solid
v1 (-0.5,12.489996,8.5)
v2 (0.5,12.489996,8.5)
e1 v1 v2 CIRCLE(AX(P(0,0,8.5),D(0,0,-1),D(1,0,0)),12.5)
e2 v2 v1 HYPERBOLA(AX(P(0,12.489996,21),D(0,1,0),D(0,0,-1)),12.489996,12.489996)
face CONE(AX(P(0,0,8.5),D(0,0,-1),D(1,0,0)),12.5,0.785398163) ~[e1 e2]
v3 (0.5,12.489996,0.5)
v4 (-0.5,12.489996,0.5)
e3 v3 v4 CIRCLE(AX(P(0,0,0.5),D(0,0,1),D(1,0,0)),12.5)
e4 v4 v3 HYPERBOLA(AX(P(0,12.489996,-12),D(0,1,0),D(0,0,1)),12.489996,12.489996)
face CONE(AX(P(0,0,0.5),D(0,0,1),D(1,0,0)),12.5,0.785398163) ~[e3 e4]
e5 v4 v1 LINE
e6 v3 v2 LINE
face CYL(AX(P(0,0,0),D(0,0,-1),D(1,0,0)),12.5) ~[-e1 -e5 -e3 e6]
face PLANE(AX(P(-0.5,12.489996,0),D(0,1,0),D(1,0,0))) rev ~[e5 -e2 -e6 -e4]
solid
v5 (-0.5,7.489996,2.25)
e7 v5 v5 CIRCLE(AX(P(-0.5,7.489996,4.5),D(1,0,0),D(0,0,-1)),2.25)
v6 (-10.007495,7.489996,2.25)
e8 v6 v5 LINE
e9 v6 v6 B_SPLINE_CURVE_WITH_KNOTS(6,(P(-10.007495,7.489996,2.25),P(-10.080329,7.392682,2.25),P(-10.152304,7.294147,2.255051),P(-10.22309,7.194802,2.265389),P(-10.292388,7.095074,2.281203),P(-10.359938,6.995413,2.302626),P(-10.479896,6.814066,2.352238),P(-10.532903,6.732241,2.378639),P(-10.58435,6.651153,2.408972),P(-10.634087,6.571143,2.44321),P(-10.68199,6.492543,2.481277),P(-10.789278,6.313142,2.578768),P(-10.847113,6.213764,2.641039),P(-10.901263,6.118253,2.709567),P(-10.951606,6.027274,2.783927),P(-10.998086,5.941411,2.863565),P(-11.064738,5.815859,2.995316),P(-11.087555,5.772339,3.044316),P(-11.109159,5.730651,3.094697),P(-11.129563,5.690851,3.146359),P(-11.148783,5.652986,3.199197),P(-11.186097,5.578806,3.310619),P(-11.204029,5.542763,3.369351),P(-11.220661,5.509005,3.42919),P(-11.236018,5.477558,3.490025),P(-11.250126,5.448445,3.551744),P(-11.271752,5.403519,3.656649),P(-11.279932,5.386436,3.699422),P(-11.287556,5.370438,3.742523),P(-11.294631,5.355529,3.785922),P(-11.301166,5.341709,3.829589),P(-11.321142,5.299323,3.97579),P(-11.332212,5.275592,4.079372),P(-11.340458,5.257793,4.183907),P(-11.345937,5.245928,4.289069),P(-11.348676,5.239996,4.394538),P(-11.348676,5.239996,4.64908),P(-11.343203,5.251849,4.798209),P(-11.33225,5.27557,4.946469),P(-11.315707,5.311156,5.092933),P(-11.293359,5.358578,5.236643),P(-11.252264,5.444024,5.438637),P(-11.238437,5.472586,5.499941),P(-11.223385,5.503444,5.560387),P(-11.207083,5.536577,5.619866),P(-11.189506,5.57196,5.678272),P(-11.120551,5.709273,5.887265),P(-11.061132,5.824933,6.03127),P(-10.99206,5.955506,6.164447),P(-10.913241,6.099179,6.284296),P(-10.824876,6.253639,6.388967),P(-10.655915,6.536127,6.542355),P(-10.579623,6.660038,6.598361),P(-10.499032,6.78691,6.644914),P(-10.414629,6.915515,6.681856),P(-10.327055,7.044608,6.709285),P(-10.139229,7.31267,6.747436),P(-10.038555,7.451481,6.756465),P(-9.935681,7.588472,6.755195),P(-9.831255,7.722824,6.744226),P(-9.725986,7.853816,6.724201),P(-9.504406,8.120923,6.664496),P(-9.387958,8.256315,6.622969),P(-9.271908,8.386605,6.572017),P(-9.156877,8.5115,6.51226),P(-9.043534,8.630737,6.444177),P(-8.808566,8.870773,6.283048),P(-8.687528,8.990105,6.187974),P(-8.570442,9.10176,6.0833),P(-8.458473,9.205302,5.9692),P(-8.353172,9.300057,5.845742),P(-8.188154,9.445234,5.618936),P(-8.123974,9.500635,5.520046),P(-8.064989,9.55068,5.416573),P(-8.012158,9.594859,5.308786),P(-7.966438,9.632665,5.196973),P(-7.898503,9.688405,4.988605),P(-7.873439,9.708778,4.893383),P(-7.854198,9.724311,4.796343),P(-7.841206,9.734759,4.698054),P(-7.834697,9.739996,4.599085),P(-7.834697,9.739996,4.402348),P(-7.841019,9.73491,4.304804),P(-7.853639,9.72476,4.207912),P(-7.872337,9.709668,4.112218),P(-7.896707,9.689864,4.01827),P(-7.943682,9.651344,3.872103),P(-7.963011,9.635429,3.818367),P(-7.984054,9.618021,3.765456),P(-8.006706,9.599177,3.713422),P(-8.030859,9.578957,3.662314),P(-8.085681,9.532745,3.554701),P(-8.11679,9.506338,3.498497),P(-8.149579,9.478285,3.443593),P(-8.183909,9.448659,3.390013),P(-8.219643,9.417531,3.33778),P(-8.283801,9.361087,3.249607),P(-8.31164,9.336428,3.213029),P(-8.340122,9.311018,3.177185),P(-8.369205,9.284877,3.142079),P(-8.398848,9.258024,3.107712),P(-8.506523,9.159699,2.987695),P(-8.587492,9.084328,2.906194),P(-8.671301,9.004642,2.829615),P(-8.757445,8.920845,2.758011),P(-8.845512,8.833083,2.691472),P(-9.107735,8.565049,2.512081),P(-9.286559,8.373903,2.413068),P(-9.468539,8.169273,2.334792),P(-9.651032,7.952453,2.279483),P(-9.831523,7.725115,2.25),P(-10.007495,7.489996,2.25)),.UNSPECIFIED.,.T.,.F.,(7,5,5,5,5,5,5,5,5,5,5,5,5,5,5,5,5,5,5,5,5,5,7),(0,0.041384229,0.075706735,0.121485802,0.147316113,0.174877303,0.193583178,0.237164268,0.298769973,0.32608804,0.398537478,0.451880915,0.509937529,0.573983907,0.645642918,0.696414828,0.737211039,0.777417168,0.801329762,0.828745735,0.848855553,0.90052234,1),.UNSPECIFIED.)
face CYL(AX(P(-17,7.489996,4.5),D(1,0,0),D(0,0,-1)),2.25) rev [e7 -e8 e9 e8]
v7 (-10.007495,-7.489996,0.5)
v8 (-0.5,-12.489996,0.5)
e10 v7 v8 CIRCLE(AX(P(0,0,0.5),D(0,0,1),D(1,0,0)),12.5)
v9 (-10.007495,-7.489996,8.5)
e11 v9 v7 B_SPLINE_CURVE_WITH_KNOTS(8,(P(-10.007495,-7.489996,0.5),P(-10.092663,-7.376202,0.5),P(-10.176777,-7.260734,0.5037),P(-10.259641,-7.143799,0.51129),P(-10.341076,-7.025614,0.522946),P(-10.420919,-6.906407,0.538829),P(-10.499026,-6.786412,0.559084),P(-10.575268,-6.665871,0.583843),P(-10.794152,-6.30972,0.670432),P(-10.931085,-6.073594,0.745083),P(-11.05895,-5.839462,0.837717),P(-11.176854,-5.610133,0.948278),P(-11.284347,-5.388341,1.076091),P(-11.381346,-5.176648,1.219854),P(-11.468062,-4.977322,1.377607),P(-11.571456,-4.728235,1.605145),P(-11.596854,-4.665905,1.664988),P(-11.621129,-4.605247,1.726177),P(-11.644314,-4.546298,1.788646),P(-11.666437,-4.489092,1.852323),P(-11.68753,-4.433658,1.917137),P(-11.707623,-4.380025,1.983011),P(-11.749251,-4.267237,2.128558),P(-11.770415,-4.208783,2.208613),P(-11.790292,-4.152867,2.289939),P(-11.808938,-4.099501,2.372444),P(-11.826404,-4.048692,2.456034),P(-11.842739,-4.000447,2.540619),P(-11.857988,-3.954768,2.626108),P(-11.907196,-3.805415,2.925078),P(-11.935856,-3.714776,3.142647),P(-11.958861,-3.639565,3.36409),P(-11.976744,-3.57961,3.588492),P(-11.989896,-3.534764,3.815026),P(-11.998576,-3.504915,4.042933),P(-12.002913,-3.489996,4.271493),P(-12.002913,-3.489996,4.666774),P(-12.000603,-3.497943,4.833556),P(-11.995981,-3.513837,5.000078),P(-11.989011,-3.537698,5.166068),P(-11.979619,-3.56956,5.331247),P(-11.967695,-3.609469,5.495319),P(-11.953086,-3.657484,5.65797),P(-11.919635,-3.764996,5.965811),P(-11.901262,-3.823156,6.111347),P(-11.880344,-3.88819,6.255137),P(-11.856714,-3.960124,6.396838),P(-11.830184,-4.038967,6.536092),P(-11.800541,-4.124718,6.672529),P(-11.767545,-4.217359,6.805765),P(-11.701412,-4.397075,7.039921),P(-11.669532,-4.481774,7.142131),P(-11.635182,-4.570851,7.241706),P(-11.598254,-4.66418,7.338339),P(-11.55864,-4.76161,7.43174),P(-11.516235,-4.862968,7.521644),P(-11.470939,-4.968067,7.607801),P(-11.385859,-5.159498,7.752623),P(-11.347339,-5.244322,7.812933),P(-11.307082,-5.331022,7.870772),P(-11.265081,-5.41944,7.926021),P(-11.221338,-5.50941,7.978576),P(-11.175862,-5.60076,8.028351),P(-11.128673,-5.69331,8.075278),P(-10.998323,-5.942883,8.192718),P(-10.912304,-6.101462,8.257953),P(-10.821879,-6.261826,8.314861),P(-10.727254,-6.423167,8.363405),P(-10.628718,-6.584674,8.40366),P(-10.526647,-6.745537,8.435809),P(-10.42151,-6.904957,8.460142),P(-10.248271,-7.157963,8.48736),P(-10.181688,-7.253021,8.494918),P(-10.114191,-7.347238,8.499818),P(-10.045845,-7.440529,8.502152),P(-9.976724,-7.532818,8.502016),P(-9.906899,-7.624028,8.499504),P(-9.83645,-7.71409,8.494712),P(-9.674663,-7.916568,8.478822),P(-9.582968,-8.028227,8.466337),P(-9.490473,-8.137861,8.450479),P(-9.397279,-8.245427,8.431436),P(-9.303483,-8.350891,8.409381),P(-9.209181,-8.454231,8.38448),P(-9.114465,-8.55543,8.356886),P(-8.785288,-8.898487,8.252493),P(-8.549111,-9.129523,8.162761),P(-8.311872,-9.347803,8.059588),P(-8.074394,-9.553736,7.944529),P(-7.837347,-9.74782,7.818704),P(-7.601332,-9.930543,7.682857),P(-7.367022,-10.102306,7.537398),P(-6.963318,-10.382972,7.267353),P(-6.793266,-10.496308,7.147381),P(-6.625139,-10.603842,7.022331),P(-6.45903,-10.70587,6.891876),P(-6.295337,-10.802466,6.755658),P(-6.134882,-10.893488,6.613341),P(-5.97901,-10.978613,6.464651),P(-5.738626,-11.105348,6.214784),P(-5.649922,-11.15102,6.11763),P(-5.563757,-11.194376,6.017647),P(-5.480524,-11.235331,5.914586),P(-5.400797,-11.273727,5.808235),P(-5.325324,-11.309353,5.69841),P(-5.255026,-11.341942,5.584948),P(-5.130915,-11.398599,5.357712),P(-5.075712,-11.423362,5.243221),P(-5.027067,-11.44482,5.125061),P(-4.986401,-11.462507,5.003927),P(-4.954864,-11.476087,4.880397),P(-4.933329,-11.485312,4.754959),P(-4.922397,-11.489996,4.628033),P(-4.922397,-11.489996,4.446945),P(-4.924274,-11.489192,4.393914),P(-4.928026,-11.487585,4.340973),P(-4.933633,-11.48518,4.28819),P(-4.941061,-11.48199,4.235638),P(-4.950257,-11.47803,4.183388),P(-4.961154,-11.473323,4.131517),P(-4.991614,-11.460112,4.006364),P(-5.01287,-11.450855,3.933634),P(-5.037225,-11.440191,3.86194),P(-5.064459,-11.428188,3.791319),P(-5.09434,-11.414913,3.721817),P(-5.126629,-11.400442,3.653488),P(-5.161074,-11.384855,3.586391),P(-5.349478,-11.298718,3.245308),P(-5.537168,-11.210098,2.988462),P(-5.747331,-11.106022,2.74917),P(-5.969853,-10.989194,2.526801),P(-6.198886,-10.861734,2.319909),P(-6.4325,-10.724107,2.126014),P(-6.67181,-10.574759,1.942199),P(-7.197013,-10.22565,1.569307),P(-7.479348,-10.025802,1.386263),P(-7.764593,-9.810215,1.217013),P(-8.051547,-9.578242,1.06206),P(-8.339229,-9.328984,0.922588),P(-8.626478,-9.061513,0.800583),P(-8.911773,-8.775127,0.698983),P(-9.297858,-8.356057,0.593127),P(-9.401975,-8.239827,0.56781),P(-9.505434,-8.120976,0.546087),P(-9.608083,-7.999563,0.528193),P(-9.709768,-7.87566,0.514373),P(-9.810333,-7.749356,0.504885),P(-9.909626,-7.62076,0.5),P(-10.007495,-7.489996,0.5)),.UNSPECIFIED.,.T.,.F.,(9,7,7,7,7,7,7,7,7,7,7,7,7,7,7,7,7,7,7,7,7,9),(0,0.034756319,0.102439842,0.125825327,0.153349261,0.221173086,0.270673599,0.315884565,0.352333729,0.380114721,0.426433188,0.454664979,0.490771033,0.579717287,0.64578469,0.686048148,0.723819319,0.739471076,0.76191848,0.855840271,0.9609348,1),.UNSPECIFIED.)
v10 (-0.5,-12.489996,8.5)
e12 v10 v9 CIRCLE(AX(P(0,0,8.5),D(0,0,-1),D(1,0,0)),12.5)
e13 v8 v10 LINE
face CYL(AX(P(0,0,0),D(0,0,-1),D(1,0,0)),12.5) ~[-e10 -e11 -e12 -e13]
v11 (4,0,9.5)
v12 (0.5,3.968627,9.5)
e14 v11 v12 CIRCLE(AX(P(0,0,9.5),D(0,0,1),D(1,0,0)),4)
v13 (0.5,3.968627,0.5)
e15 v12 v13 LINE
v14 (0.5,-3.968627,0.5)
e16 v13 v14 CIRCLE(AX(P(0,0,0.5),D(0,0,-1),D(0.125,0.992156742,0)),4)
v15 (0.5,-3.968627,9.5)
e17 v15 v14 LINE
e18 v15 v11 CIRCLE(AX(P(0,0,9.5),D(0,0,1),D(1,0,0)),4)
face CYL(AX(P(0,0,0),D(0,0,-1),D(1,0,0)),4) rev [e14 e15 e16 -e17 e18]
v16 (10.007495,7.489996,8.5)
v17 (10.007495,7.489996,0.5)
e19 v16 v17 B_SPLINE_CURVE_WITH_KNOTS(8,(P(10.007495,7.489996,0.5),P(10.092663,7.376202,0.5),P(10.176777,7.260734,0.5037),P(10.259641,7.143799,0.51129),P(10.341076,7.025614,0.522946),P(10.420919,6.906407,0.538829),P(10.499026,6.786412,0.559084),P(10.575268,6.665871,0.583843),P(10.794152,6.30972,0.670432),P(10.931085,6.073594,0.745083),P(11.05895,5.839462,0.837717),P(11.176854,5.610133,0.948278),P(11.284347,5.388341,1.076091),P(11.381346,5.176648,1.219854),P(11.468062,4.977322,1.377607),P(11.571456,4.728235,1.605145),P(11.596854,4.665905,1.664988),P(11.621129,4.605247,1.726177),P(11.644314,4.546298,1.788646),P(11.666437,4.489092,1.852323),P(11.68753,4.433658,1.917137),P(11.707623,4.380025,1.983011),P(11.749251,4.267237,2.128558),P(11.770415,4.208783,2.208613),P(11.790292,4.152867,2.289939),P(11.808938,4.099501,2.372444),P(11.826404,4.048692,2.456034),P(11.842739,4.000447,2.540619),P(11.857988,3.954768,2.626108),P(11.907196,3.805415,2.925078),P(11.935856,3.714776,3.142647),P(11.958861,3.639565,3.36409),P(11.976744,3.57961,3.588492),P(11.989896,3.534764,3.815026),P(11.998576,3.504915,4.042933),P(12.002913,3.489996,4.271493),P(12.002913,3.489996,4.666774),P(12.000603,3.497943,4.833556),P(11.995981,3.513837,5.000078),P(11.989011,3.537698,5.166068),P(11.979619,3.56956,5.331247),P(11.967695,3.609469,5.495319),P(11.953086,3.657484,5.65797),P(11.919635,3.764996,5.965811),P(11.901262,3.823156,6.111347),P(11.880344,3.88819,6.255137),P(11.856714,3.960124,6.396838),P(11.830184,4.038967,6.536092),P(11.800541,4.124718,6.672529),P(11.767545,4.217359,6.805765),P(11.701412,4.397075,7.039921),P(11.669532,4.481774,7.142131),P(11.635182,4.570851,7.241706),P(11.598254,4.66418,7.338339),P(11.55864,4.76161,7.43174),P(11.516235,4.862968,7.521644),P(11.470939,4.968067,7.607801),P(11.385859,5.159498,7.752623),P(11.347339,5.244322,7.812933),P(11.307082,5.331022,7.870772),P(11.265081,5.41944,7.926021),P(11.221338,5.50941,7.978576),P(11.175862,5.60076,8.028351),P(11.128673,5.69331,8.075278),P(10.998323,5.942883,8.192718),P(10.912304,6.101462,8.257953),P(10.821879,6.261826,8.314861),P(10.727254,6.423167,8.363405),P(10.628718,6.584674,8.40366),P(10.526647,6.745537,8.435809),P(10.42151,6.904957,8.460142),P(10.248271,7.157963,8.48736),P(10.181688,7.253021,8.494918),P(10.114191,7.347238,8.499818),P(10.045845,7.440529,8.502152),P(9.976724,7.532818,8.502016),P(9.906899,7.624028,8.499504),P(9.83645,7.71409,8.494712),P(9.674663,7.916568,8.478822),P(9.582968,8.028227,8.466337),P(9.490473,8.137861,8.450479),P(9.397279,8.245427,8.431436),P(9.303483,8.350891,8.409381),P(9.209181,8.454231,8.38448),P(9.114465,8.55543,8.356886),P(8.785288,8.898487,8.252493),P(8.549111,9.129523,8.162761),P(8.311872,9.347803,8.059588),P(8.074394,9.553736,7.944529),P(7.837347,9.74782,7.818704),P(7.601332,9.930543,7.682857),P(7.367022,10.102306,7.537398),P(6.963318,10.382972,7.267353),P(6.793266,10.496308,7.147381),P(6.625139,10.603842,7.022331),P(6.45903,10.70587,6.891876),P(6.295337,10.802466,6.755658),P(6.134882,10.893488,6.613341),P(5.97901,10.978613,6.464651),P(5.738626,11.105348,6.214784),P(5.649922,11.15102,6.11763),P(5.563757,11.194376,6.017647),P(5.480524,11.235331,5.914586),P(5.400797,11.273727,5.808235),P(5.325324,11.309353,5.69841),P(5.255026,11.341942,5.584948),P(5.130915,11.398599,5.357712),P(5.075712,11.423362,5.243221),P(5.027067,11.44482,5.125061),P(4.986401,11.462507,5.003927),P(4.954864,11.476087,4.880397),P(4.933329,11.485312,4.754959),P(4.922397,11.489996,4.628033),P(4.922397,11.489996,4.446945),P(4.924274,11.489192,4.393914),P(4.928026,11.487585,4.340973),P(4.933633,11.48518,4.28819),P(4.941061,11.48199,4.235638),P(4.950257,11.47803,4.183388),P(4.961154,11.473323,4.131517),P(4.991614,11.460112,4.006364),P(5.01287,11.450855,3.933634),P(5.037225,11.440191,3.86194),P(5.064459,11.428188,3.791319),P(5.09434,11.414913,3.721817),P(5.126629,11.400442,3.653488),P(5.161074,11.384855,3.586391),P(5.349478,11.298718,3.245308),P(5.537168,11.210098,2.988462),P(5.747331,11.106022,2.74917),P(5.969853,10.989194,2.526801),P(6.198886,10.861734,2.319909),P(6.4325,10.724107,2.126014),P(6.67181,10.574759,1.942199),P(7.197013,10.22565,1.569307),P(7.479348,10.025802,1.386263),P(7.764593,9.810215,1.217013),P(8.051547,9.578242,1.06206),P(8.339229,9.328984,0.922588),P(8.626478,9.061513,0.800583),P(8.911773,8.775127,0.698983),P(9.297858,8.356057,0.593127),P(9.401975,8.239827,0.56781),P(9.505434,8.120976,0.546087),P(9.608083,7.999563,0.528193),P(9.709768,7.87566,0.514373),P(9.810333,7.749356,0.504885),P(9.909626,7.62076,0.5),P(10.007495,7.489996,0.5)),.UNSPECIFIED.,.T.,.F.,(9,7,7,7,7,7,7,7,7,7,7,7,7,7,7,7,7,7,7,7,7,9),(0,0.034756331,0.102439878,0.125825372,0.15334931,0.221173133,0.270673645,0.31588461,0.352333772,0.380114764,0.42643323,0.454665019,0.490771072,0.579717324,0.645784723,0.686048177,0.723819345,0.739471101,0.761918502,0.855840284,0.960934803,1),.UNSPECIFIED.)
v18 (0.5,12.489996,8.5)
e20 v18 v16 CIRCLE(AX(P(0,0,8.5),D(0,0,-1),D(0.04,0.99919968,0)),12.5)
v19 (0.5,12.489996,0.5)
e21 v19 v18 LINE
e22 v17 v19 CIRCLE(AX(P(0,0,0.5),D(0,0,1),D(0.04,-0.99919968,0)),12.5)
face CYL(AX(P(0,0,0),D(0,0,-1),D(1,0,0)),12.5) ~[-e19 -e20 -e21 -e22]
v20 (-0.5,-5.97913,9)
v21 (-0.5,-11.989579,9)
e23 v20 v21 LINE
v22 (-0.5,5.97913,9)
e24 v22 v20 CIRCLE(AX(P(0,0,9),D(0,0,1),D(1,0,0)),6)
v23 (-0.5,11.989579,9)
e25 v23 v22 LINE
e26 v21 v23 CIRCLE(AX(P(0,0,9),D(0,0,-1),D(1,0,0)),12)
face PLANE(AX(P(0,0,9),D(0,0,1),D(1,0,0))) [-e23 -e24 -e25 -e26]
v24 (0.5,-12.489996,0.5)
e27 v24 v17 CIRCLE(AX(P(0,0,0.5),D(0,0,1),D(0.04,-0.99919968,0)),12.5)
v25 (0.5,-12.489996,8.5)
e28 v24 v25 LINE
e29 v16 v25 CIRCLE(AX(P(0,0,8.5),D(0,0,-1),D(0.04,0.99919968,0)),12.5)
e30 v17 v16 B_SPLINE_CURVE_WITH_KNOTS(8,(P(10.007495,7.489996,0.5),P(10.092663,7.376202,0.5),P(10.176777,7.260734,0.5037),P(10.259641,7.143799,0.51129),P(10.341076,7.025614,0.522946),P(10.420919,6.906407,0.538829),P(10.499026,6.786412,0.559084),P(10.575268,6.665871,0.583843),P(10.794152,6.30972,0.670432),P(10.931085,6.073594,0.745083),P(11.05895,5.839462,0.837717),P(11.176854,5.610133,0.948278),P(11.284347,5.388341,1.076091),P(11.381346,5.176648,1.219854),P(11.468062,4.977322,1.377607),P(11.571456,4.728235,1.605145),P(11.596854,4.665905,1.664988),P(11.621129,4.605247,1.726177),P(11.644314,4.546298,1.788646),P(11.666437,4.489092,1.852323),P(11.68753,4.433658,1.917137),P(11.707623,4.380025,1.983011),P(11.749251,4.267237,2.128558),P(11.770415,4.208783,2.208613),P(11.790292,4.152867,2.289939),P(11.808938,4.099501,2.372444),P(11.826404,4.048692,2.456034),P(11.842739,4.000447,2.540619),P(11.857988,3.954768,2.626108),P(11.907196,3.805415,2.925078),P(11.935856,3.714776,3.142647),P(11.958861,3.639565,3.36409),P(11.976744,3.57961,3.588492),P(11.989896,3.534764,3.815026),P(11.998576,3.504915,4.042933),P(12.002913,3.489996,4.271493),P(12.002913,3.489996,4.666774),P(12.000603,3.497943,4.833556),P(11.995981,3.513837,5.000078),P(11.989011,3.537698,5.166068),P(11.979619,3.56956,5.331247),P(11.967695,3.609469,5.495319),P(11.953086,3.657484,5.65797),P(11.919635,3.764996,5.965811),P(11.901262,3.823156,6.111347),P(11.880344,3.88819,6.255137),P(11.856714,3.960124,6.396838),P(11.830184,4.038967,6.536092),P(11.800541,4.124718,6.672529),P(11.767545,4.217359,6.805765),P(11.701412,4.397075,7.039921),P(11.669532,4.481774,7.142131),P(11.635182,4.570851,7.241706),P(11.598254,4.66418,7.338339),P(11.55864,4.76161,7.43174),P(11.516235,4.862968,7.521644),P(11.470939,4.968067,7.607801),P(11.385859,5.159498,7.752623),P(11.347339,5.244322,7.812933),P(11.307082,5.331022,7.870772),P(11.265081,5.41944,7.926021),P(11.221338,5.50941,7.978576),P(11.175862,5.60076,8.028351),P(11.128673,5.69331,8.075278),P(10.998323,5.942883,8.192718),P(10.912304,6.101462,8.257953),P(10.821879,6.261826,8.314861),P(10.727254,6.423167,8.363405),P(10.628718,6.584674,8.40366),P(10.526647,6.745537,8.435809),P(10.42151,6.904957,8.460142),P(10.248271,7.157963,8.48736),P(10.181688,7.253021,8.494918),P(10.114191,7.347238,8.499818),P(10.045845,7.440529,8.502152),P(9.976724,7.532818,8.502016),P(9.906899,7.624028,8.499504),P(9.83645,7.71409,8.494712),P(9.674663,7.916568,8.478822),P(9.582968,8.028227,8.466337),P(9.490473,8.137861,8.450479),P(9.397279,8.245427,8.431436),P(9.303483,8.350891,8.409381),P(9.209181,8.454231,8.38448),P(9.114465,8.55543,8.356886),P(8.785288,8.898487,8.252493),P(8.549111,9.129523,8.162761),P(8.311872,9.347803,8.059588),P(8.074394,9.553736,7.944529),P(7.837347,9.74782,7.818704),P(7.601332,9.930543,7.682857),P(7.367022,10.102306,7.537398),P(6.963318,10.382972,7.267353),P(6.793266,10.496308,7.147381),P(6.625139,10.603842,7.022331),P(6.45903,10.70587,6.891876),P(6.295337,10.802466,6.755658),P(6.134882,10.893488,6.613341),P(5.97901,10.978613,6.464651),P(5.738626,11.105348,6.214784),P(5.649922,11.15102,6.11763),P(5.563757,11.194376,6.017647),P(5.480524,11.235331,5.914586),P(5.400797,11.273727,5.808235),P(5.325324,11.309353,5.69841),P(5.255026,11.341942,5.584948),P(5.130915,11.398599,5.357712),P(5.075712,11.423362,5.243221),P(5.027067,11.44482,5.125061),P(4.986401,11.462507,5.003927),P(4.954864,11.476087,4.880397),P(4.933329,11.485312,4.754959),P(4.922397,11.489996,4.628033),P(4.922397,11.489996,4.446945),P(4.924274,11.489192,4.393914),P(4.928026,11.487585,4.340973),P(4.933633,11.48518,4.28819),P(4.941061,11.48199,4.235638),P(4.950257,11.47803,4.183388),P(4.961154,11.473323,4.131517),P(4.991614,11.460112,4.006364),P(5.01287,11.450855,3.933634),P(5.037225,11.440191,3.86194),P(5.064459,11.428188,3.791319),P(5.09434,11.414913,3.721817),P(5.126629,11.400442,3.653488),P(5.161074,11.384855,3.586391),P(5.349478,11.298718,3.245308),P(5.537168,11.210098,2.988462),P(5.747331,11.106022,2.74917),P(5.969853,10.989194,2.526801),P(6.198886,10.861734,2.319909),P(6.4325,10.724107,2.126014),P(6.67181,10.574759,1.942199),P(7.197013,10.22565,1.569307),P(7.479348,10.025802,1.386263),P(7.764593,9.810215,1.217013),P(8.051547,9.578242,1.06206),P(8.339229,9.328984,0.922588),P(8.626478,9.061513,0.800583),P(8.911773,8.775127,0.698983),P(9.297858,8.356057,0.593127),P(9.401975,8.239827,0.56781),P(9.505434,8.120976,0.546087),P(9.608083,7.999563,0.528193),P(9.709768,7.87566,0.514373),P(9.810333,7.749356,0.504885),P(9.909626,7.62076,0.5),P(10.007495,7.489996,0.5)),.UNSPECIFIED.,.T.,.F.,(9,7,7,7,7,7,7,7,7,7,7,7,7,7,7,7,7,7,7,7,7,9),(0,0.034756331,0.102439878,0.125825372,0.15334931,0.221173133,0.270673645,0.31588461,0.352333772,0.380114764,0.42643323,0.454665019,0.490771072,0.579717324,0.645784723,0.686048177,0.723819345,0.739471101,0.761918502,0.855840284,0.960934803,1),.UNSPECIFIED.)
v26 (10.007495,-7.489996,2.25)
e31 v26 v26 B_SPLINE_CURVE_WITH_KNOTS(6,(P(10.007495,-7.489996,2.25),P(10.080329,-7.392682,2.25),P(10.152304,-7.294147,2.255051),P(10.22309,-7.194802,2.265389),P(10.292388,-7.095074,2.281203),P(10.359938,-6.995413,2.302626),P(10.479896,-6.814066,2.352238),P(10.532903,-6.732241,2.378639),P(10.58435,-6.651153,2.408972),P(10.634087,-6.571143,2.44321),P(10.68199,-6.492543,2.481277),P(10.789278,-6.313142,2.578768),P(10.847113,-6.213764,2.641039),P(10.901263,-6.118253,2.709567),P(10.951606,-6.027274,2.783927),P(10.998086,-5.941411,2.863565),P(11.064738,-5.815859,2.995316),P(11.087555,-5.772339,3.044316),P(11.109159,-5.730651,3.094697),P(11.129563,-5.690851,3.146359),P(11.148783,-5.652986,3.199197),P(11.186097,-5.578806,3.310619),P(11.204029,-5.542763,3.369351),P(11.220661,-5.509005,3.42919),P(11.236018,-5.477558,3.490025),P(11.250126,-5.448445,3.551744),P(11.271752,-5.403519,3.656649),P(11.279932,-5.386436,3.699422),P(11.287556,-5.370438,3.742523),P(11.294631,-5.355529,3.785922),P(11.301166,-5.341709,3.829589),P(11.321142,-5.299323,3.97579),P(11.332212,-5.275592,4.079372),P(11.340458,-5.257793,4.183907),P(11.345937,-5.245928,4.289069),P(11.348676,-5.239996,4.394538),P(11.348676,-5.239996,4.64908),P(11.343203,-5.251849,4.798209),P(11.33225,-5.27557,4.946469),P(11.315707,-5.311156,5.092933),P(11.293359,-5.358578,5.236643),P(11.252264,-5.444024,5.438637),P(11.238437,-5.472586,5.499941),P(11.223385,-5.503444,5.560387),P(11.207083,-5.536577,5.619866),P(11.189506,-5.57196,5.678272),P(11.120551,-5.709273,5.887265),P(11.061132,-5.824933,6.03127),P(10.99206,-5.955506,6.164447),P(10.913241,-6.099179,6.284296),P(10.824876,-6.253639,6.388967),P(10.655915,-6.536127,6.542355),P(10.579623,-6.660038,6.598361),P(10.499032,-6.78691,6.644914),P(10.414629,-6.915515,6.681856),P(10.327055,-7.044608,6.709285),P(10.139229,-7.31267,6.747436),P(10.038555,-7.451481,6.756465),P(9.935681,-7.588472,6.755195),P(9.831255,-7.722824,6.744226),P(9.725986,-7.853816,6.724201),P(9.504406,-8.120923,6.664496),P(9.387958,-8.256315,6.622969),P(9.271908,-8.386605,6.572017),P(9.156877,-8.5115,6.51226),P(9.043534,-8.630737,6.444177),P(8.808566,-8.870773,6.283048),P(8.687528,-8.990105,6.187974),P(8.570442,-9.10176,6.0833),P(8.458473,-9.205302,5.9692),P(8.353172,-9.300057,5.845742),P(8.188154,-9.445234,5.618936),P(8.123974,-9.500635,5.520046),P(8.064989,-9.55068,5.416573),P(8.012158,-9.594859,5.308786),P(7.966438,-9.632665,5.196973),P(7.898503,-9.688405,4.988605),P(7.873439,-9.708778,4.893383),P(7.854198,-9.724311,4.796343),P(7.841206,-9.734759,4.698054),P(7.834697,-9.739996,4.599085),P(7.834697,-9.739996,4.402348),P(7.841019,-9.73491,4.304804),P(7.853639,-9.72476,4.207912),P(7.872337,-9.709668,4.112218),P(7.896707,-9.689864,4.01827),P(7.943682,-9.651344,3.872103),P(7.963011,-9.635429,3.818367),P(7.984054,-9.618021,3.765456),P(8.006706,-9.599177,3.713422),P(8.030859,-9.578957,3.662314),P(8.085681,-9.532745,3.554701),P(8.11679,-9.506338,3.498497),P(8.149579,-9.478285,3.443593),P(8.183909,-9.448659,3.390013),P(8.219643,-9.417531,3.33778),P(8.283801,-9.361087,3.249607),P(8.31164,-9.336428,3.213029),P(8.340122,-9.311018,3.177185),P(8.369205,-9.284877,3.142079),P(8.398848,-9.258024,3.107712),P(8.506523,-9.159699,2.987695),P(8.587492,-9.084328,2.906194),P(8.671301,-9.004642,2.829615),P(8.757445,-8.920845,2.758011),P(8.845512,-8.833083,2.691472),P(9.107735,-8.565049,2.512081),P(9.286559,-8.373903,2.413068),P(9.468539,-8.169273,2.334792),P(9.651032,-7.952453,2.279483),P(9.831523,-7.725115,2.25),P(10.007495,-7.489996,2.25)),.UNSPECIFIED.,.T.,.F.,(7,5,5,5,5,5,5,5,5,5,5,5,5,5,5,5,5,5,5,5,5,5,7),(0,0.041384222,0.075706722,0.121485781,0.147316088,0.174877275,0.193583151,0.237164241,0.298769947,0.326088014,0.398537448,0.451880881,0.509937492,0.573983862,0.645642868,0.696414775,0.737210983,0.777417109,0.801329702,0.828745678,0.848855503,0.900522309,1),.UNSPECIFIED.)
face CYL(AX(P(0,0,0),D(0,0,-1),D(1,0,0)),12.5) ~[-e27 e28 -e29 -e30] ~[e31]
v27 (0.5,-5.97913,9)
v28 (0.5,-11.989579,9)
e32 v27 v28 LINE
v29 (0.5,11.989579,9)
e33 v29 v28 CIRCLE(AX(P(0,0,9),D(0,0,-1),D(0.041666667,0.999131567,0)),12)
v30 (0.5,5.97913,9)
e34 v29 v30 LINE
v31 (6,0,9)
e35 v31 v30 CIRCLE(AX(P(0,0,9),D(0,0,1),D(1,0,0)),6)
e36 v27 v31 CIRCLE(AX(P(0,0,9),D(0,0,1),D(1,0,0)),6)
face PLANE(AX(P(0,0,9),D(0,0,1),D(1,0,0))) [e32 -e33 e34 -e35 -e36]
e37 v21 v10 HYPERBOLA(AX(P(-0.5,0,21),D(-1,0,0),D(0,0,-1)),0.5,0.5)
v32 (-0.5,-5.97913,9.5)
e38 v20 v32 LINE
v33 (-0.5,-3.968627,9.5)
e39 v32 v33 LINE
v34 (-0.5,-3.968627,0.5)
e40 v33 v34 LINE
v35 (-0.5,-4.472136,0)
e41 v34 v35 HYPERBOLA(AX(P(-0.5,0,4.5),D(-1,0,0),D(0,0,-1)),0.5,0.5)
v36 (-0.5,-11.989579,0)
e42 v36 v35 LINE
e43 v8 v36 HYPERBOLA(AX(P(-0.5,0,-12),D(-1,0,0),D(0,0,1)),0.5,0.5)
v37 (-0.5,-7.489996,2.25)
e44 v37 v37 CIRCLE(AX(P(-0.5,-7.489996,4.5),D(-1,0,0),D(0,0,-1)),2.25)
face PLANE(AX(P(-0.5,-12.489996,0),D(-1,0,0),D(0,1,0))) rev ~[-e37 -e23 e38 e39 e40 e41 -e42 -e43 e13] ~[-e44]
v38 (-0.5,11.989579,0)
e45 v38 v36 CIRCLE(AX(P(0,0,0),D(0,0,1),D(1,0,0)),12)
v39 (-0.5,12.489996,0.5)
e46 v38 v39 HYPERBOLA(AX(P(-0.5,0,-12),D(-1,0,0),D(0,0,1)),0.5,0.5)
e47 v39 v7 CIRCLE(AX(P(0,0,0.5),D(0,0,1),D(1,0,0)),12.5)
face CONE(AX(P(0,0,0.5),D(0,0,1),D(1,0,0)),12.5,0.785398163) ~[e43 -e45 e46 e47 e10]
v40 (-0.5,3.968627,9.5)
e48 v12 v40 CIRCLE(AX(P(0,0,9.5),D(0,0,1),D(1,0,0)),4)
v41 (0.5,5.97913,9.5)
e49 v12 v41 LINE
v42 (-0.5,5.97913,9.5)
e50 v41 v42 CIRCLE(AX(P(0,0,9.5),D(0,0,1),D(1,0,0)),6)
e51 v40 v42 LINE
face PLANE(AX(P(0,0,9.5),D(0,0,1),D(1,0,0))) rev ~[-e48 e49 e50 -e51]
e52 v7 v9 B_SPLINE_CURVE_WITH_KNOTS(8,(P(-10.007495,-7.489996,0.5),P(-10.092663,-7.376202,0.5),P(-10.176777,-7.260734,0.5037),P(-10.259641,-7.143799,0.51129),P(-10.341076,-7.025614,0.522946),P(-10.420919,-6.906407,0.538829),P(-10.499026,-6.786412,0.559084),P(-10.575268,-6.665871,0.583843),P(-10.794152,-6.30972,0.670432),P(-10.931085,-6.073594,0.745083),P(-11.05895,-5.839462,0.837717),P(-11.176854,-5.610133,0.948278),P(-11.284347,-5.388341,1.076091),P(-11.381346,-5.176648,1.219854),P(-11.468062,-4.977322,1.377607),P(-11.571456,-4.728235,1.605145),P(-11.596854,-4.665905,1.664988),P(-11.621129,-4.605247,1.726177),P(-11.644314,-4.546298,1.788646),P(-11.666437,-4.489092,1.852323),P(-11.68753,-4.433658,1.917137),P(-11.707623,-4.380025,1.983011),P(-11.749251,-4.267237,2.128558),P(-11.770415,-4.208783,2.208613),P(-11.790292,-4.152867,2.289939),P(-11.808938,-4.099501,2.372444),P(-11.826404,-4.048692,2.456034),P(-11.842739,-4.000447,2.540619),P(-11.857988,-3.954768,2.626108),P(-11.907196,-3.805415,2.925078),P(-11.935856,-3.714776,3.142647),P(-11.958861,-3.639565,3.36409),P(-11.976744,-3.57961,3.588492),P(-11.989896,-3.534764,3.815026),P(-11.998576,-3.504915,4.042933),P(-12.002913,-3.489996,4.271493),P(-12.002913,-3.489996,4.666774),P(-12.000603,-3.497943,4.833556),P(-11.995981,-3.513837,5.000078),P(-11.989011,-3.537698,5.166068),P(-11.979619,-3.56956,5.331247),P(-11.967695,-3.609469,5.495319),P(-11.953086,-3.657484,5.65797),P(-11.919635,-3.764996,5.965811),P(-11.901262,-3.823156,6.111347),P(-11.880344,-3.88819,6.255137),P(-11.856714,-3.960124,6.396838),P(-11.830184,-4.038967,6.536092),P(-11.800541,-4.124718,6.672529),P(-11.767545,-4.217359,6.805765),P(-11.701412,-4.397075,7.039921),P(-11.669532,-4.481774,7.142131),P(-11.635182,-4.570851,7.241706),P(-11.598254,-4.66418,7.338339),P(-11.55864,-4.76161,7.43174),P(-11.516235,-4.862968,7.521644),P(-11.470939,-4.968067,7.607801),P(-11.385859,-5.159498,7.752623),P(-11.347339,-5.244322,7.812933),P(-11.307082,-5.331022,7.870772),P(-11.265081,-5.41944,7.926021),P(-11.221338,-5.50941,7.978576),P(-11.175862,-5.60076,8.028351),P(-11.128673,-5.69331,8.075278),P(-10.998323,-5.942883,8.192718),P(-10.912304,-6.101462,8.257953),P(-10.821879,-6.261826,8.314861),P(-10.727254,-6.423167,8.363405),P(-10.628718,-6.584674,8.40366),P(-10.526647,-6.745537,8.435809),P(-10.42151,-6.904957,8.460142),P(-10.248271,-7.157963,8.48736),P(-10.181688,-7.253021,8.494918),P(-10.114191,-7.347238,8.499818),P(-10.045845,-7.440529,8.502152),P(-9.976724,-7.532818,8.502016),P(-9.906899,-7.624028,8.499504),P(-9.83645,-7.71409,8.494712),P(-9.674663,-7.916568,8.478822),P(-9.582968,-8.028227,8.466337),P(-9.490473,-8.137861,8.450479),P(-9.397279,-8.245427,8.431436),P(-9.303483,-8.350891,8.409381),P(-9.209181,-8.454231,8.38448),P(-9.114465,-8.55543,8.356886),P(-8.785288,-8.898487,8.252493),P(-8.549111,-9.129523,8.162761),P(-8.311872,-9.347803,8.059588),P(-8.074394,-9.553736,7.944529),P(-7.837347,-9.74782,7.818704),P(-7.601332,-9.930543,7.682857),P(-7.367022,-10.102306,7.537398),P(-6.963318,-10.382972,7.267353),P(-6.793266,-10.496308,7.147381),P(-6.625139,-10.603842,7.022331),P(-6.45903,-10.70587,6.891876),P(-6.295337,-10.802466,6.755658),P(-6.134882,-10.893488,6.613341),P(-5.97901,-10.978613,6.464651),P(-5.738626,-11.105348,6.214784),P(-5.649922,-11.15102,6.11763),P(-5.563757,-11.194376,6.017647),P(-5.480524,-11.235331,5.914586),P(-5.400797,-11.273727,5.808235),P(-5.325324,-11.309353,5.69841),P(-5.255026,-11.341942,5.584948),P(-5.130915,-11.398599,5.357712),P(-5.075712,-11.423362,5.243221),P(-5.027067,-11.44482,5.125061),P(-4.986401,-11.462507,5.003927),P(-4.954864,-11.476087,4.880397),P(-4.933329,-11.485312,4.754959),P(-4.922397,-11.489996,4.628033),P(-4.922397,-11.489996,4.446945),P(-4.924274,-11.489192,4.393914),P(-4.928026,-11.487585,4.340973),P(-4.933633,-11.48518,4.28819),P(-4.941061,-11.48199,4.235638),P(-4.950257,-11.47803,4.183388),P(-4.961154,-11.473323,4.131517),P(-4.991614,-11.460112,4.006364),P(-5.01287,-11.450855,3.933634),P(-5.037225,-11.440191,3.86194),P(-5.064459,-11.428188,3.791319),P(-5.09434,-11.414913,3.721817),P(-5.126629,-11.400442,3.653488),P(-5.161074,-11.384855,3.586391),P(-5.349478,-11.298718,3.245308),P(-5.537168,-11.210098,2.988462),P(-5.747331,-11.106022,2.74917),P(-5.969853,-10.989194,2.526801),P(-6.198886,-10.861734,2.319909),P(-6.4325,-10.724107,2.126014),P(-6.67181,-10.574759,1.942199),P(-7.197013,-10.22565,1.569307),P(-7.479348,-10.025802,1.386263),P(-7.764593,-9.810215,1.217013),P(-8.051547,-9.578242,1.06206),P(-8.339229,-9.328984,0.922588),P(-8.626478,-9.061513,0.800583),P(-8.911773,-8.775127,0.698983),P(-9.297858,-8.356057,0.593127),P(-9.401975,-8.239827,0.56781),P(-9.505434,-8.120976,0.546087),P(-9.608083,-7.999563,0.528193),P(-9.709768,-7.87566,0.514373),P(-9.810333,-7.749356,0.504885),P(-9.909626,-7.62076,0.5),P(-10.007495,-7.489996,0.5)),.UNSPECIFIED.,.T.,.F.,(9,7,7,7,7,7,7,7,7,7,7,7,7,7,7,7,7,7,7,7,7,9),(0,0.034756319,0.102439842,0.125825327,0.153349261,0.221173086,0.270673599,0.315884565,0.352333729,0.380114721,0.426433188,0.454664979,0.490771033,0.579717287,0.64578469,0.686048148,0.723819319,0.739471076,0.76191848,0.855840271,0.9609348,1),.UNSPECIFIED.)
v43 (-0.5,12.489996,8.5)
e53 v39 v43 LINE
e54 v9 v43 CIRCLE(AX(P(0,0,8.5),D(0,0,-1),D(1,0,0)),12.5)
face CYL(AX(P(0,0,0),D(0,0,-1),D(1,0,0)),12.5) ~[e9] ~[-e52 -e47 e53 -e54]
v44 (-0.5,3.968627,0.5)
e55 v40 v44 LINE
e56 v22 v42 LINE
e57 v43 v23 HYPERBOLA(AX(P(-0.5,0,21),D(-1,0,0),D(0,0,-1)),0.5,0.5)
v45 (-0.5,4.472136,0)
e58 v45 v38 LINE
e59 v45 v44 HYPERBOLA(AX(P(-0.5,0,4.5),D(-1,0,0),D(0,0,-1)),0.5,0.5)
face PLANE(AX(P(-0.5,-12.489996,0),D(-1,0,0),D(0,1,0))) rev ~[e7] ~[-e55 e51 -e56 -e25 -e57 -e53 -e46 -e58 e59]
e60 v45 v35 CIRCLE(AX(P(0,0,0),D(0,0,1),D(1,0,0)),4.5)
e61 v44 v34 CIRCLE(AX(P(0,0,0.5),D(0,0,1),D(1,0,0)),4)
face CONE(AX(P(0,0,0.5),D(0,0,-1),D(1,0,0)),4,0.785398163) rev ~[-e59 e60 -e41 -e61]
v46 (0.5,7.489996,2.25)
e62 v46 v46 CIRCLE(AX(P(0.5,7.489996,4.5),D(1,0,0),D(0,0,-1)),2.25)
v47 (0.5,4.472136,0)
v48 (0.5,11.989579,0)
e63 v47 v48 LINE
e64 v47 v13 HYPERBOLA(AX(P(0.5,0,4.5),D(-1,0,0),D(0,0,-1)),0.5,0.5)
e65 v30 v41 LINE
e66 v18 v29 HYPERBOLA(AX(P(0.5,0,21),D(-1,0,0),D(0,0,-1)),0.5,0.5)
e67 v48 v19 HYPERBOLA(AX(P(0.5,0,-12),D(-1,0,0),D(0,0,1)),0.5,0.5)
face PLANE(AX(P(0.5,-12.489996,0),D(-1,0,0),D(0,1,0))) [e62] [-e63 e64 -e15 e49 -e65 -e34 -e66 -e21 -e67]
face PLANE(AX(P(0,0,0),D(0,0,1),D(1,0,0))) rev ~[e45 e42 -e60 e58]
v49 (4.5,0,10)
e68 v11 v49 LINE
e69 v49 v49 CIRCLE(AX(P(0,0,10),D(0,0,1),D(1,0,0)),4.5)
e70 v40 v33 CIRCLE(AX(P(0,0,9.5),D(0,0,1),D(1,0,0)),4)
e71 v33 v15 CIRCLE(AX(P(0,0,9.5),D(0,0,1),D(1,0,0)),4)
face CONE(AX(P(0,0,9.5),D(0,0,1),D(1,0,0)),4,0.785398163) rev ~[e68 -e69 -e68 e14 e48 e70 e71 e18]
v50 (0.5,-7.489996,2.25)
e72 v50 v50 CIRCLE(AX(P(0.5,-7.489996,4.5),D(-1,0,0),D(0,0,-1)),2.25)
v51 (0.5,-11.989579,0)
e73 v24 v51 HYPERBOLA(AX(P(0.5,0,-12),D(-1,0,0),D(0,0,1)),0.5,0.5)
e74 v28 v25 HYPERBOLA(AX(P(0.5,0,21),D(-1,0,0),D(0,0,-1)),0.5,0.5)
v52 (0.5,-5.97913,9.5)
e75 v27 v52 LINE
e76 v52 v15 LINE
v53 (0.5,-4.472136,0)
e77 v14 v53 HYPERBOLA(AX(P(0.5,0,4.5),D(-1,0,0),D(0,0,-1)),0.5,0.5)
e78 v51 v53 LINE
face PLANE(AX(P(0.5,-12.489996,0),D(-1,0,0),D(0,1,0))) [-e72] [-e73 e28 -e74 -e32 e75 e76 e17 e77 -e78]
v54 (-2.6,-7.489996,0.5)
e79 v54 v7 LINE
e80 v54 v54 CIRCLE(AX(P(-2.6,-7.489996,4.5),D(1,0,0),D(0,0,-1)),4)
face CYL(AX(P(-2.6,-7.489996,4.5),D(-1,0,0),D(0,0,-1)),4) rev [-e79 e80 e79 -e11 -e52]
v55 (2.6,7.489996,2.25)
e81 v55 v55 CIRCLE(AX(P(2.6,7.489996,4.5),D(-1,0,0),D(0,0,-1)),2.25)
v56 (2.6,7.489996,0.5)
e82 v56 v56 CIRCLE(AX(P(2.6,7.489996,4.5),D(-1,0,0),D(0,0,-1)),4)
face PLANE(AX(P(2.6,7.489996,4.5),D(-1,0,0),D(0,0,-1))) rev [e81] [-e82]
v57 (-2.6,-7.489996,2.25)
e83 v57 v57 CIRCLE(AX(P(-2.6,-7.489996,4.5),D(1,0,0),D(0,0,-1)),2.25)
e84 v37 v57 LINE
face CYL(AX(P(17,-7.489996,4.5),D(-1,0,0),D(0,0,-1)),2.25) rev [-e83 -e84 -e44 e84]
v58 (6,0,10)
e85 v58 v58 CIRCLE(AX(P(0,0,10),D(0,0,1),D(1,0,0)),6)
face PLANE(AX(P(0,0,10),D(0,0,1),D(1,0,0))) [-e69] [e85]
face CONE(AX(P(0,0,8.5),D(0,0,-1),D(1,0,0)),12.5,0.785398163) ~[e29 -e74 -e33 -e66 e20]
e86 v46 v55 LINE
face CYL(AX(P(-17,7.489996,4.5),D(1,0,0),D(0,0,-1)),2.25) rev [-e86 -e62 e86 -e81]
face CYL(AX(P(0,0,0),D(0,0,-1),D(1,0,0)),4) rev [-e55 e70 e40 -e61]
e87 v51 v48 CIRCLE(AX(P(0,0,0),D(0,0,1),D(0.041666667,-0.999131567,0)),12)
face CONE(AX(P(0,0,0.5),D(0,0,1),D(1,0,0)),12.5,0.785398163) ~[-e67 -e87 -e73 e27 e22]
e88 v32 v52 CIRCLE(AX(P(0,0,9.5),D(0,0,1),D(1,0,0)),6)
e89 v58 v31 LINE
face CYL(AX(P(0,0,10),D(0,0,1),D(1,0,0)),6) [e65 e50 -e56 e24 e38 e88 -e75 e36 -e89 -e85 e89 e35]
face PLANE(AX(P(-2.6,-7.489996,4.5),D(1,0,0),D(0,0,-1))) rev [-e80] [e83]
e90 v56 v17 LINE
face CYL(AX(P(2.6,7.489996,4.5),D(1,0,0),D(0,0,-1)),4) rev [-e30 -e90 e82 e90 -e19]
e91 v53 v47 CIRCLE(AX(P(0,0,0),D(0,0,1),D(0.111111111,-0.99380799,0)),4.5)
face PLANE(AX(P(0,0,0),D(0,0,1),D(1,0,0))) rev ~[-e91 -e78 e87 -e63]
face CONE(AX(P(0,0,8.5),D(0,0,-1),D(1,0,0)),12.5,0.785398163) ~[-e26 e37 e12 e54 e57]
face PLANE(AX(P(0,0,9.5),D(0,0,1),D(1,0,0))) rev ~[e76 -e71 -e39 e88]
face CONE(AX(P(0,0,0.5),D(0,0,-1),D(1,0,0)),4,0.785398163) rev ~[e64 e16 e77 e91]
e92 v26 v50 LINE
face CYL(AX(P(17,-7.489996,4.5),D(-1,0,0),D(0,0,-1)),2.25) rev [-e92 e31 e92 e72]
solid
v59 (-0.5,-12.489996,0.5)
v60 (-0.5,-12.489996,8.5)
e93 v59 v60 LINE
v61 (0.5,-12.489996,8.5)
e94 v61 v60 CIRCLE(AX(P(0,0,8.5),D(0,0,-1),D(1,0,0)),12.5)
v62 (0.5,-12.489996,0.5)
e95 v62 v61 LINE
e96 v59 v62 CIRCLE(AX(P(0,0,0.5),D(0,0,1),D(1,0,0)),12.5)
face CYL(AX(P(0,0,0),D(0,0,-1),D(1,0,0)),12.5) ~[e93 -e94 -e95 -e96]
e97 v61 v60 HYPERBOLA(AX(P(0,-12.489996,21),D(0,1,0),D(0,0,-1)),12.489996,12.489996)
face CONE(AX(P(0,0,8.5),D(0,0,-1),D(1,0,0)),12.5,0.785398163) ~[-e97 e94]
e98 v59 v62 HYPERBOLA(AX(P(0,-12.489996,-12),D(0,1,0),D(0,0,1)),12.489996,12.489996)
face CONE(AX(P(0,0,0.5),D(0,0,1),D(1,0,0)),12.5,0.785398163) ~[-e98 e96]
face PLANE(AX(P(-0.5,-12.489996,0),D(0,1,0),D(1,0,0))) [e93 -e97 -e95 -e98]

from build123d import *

# Parameters (mm, degrees)
CROQUIS1_R              = 12.5
CROQUIS1_R_2            = 4
SALIENTE_EXTRUIR1_DEPTH = 10
CROQUIS2_OUTSIDE_W      = 34.348
CROQUIS2_OUTSIDE_H      = 34.348
CROQUIS2_OUTSIDE_R      = 6
CORTAR_EXTRUIR1_DEPTH   = 1
CHAFL_N1_SIZE           = 0.5
CROQUIS3_W              = 1
CROQUIS3_H              = 24.979991994
CORTAR_EXTRUIR2_DEPTH   = 9.5
MATRIZC1_COUNT          = 2
MATRIZC1_ANGLE          = 180


with BuildPart() as part:
    # Croquis1 → Saliente-Extruir1 (new body)
    with BuildSketch(Plane.XY):
        Circle(CROQUIS1_R)
        Circle(CROQUIS1_R_2, mode=Mode.SUBTRACT)
    extrude(amount=SALIENTE_EXTRUIR1_DEPTH)

    # Croquis2 outside → Cortar-Extruir1 (cut)
    with BuildSketch(Plane.XY.offset(10)):
        Rectangle(CROQUIS2_OUTSIDE_W, CROQUIS2_OUTSIDE_H)
        Circle(CROQUIS2_OUTSIDE_R, mode=Mode.SUBTRACT)
    extrude(amount=-CORTAR_EXTRUIR1_DEPTH, mode=Mode.SUBTRACT)

    # Chaflán1
    chafl_n1_edges = [part.edges().sort_by_distance(p)[0] for p in [
        (-12.5, 0, 9),
        (-12.5, 0, 0),
        (-4, 0, 0),
        (-4, 0, 10),
    ]]
    chamfer(chafl_n1_edges, length=CHAFL_N1_SIZE)

    # Croquis3 → Cortar-Extruir2 (cut)
    with BuildSketch(Plane.XY):
        Rectangle(CROQUIS3_W, CROQUIS3_H)
    extrude(amount=CORTAR_EXTRUIR2_DEPTH, mode=Mode.SUBTRACT)

    # Croquis8 → Refrentado para tornillo con cabeza troncocónica de M45 (revolve, cut)
    with BuildSketch(Plane(origin=(13, 7.489995997, 4.5), x_dir=(0, 0, -1), z_dir=(0, 1, 0))):
        Polygon((0, 0), (0, 31.351936393), (2.25, 30), (2.25, 10.4), (4, 10.4), (4, 0), align=None)
    refrentado_para_tornillo_con_cabeza_tron = revolve(axis=Axis((19.35, 7.489995997, 4.5), (-1, 0, 0)), mode=Mode.SUBTRACT)

    # MatrizC1: Refrentado para tornillo con cabeza troncocónica de M45 ×2 about axis
    matrizc1_axis = Axis((0, 0, 9.5), (0, 0, -1))
    for i in range(1, MATRIZC1_COUNT):
        add(refrentado_para_tornillo_con_cabeza_tron.rotate(matrizc1_axis, i * MATRIZC1_ANGLE / (MATRIZC1_COUNT - 1)), mode=Mode.SUBTRACT)


solid = part.part
